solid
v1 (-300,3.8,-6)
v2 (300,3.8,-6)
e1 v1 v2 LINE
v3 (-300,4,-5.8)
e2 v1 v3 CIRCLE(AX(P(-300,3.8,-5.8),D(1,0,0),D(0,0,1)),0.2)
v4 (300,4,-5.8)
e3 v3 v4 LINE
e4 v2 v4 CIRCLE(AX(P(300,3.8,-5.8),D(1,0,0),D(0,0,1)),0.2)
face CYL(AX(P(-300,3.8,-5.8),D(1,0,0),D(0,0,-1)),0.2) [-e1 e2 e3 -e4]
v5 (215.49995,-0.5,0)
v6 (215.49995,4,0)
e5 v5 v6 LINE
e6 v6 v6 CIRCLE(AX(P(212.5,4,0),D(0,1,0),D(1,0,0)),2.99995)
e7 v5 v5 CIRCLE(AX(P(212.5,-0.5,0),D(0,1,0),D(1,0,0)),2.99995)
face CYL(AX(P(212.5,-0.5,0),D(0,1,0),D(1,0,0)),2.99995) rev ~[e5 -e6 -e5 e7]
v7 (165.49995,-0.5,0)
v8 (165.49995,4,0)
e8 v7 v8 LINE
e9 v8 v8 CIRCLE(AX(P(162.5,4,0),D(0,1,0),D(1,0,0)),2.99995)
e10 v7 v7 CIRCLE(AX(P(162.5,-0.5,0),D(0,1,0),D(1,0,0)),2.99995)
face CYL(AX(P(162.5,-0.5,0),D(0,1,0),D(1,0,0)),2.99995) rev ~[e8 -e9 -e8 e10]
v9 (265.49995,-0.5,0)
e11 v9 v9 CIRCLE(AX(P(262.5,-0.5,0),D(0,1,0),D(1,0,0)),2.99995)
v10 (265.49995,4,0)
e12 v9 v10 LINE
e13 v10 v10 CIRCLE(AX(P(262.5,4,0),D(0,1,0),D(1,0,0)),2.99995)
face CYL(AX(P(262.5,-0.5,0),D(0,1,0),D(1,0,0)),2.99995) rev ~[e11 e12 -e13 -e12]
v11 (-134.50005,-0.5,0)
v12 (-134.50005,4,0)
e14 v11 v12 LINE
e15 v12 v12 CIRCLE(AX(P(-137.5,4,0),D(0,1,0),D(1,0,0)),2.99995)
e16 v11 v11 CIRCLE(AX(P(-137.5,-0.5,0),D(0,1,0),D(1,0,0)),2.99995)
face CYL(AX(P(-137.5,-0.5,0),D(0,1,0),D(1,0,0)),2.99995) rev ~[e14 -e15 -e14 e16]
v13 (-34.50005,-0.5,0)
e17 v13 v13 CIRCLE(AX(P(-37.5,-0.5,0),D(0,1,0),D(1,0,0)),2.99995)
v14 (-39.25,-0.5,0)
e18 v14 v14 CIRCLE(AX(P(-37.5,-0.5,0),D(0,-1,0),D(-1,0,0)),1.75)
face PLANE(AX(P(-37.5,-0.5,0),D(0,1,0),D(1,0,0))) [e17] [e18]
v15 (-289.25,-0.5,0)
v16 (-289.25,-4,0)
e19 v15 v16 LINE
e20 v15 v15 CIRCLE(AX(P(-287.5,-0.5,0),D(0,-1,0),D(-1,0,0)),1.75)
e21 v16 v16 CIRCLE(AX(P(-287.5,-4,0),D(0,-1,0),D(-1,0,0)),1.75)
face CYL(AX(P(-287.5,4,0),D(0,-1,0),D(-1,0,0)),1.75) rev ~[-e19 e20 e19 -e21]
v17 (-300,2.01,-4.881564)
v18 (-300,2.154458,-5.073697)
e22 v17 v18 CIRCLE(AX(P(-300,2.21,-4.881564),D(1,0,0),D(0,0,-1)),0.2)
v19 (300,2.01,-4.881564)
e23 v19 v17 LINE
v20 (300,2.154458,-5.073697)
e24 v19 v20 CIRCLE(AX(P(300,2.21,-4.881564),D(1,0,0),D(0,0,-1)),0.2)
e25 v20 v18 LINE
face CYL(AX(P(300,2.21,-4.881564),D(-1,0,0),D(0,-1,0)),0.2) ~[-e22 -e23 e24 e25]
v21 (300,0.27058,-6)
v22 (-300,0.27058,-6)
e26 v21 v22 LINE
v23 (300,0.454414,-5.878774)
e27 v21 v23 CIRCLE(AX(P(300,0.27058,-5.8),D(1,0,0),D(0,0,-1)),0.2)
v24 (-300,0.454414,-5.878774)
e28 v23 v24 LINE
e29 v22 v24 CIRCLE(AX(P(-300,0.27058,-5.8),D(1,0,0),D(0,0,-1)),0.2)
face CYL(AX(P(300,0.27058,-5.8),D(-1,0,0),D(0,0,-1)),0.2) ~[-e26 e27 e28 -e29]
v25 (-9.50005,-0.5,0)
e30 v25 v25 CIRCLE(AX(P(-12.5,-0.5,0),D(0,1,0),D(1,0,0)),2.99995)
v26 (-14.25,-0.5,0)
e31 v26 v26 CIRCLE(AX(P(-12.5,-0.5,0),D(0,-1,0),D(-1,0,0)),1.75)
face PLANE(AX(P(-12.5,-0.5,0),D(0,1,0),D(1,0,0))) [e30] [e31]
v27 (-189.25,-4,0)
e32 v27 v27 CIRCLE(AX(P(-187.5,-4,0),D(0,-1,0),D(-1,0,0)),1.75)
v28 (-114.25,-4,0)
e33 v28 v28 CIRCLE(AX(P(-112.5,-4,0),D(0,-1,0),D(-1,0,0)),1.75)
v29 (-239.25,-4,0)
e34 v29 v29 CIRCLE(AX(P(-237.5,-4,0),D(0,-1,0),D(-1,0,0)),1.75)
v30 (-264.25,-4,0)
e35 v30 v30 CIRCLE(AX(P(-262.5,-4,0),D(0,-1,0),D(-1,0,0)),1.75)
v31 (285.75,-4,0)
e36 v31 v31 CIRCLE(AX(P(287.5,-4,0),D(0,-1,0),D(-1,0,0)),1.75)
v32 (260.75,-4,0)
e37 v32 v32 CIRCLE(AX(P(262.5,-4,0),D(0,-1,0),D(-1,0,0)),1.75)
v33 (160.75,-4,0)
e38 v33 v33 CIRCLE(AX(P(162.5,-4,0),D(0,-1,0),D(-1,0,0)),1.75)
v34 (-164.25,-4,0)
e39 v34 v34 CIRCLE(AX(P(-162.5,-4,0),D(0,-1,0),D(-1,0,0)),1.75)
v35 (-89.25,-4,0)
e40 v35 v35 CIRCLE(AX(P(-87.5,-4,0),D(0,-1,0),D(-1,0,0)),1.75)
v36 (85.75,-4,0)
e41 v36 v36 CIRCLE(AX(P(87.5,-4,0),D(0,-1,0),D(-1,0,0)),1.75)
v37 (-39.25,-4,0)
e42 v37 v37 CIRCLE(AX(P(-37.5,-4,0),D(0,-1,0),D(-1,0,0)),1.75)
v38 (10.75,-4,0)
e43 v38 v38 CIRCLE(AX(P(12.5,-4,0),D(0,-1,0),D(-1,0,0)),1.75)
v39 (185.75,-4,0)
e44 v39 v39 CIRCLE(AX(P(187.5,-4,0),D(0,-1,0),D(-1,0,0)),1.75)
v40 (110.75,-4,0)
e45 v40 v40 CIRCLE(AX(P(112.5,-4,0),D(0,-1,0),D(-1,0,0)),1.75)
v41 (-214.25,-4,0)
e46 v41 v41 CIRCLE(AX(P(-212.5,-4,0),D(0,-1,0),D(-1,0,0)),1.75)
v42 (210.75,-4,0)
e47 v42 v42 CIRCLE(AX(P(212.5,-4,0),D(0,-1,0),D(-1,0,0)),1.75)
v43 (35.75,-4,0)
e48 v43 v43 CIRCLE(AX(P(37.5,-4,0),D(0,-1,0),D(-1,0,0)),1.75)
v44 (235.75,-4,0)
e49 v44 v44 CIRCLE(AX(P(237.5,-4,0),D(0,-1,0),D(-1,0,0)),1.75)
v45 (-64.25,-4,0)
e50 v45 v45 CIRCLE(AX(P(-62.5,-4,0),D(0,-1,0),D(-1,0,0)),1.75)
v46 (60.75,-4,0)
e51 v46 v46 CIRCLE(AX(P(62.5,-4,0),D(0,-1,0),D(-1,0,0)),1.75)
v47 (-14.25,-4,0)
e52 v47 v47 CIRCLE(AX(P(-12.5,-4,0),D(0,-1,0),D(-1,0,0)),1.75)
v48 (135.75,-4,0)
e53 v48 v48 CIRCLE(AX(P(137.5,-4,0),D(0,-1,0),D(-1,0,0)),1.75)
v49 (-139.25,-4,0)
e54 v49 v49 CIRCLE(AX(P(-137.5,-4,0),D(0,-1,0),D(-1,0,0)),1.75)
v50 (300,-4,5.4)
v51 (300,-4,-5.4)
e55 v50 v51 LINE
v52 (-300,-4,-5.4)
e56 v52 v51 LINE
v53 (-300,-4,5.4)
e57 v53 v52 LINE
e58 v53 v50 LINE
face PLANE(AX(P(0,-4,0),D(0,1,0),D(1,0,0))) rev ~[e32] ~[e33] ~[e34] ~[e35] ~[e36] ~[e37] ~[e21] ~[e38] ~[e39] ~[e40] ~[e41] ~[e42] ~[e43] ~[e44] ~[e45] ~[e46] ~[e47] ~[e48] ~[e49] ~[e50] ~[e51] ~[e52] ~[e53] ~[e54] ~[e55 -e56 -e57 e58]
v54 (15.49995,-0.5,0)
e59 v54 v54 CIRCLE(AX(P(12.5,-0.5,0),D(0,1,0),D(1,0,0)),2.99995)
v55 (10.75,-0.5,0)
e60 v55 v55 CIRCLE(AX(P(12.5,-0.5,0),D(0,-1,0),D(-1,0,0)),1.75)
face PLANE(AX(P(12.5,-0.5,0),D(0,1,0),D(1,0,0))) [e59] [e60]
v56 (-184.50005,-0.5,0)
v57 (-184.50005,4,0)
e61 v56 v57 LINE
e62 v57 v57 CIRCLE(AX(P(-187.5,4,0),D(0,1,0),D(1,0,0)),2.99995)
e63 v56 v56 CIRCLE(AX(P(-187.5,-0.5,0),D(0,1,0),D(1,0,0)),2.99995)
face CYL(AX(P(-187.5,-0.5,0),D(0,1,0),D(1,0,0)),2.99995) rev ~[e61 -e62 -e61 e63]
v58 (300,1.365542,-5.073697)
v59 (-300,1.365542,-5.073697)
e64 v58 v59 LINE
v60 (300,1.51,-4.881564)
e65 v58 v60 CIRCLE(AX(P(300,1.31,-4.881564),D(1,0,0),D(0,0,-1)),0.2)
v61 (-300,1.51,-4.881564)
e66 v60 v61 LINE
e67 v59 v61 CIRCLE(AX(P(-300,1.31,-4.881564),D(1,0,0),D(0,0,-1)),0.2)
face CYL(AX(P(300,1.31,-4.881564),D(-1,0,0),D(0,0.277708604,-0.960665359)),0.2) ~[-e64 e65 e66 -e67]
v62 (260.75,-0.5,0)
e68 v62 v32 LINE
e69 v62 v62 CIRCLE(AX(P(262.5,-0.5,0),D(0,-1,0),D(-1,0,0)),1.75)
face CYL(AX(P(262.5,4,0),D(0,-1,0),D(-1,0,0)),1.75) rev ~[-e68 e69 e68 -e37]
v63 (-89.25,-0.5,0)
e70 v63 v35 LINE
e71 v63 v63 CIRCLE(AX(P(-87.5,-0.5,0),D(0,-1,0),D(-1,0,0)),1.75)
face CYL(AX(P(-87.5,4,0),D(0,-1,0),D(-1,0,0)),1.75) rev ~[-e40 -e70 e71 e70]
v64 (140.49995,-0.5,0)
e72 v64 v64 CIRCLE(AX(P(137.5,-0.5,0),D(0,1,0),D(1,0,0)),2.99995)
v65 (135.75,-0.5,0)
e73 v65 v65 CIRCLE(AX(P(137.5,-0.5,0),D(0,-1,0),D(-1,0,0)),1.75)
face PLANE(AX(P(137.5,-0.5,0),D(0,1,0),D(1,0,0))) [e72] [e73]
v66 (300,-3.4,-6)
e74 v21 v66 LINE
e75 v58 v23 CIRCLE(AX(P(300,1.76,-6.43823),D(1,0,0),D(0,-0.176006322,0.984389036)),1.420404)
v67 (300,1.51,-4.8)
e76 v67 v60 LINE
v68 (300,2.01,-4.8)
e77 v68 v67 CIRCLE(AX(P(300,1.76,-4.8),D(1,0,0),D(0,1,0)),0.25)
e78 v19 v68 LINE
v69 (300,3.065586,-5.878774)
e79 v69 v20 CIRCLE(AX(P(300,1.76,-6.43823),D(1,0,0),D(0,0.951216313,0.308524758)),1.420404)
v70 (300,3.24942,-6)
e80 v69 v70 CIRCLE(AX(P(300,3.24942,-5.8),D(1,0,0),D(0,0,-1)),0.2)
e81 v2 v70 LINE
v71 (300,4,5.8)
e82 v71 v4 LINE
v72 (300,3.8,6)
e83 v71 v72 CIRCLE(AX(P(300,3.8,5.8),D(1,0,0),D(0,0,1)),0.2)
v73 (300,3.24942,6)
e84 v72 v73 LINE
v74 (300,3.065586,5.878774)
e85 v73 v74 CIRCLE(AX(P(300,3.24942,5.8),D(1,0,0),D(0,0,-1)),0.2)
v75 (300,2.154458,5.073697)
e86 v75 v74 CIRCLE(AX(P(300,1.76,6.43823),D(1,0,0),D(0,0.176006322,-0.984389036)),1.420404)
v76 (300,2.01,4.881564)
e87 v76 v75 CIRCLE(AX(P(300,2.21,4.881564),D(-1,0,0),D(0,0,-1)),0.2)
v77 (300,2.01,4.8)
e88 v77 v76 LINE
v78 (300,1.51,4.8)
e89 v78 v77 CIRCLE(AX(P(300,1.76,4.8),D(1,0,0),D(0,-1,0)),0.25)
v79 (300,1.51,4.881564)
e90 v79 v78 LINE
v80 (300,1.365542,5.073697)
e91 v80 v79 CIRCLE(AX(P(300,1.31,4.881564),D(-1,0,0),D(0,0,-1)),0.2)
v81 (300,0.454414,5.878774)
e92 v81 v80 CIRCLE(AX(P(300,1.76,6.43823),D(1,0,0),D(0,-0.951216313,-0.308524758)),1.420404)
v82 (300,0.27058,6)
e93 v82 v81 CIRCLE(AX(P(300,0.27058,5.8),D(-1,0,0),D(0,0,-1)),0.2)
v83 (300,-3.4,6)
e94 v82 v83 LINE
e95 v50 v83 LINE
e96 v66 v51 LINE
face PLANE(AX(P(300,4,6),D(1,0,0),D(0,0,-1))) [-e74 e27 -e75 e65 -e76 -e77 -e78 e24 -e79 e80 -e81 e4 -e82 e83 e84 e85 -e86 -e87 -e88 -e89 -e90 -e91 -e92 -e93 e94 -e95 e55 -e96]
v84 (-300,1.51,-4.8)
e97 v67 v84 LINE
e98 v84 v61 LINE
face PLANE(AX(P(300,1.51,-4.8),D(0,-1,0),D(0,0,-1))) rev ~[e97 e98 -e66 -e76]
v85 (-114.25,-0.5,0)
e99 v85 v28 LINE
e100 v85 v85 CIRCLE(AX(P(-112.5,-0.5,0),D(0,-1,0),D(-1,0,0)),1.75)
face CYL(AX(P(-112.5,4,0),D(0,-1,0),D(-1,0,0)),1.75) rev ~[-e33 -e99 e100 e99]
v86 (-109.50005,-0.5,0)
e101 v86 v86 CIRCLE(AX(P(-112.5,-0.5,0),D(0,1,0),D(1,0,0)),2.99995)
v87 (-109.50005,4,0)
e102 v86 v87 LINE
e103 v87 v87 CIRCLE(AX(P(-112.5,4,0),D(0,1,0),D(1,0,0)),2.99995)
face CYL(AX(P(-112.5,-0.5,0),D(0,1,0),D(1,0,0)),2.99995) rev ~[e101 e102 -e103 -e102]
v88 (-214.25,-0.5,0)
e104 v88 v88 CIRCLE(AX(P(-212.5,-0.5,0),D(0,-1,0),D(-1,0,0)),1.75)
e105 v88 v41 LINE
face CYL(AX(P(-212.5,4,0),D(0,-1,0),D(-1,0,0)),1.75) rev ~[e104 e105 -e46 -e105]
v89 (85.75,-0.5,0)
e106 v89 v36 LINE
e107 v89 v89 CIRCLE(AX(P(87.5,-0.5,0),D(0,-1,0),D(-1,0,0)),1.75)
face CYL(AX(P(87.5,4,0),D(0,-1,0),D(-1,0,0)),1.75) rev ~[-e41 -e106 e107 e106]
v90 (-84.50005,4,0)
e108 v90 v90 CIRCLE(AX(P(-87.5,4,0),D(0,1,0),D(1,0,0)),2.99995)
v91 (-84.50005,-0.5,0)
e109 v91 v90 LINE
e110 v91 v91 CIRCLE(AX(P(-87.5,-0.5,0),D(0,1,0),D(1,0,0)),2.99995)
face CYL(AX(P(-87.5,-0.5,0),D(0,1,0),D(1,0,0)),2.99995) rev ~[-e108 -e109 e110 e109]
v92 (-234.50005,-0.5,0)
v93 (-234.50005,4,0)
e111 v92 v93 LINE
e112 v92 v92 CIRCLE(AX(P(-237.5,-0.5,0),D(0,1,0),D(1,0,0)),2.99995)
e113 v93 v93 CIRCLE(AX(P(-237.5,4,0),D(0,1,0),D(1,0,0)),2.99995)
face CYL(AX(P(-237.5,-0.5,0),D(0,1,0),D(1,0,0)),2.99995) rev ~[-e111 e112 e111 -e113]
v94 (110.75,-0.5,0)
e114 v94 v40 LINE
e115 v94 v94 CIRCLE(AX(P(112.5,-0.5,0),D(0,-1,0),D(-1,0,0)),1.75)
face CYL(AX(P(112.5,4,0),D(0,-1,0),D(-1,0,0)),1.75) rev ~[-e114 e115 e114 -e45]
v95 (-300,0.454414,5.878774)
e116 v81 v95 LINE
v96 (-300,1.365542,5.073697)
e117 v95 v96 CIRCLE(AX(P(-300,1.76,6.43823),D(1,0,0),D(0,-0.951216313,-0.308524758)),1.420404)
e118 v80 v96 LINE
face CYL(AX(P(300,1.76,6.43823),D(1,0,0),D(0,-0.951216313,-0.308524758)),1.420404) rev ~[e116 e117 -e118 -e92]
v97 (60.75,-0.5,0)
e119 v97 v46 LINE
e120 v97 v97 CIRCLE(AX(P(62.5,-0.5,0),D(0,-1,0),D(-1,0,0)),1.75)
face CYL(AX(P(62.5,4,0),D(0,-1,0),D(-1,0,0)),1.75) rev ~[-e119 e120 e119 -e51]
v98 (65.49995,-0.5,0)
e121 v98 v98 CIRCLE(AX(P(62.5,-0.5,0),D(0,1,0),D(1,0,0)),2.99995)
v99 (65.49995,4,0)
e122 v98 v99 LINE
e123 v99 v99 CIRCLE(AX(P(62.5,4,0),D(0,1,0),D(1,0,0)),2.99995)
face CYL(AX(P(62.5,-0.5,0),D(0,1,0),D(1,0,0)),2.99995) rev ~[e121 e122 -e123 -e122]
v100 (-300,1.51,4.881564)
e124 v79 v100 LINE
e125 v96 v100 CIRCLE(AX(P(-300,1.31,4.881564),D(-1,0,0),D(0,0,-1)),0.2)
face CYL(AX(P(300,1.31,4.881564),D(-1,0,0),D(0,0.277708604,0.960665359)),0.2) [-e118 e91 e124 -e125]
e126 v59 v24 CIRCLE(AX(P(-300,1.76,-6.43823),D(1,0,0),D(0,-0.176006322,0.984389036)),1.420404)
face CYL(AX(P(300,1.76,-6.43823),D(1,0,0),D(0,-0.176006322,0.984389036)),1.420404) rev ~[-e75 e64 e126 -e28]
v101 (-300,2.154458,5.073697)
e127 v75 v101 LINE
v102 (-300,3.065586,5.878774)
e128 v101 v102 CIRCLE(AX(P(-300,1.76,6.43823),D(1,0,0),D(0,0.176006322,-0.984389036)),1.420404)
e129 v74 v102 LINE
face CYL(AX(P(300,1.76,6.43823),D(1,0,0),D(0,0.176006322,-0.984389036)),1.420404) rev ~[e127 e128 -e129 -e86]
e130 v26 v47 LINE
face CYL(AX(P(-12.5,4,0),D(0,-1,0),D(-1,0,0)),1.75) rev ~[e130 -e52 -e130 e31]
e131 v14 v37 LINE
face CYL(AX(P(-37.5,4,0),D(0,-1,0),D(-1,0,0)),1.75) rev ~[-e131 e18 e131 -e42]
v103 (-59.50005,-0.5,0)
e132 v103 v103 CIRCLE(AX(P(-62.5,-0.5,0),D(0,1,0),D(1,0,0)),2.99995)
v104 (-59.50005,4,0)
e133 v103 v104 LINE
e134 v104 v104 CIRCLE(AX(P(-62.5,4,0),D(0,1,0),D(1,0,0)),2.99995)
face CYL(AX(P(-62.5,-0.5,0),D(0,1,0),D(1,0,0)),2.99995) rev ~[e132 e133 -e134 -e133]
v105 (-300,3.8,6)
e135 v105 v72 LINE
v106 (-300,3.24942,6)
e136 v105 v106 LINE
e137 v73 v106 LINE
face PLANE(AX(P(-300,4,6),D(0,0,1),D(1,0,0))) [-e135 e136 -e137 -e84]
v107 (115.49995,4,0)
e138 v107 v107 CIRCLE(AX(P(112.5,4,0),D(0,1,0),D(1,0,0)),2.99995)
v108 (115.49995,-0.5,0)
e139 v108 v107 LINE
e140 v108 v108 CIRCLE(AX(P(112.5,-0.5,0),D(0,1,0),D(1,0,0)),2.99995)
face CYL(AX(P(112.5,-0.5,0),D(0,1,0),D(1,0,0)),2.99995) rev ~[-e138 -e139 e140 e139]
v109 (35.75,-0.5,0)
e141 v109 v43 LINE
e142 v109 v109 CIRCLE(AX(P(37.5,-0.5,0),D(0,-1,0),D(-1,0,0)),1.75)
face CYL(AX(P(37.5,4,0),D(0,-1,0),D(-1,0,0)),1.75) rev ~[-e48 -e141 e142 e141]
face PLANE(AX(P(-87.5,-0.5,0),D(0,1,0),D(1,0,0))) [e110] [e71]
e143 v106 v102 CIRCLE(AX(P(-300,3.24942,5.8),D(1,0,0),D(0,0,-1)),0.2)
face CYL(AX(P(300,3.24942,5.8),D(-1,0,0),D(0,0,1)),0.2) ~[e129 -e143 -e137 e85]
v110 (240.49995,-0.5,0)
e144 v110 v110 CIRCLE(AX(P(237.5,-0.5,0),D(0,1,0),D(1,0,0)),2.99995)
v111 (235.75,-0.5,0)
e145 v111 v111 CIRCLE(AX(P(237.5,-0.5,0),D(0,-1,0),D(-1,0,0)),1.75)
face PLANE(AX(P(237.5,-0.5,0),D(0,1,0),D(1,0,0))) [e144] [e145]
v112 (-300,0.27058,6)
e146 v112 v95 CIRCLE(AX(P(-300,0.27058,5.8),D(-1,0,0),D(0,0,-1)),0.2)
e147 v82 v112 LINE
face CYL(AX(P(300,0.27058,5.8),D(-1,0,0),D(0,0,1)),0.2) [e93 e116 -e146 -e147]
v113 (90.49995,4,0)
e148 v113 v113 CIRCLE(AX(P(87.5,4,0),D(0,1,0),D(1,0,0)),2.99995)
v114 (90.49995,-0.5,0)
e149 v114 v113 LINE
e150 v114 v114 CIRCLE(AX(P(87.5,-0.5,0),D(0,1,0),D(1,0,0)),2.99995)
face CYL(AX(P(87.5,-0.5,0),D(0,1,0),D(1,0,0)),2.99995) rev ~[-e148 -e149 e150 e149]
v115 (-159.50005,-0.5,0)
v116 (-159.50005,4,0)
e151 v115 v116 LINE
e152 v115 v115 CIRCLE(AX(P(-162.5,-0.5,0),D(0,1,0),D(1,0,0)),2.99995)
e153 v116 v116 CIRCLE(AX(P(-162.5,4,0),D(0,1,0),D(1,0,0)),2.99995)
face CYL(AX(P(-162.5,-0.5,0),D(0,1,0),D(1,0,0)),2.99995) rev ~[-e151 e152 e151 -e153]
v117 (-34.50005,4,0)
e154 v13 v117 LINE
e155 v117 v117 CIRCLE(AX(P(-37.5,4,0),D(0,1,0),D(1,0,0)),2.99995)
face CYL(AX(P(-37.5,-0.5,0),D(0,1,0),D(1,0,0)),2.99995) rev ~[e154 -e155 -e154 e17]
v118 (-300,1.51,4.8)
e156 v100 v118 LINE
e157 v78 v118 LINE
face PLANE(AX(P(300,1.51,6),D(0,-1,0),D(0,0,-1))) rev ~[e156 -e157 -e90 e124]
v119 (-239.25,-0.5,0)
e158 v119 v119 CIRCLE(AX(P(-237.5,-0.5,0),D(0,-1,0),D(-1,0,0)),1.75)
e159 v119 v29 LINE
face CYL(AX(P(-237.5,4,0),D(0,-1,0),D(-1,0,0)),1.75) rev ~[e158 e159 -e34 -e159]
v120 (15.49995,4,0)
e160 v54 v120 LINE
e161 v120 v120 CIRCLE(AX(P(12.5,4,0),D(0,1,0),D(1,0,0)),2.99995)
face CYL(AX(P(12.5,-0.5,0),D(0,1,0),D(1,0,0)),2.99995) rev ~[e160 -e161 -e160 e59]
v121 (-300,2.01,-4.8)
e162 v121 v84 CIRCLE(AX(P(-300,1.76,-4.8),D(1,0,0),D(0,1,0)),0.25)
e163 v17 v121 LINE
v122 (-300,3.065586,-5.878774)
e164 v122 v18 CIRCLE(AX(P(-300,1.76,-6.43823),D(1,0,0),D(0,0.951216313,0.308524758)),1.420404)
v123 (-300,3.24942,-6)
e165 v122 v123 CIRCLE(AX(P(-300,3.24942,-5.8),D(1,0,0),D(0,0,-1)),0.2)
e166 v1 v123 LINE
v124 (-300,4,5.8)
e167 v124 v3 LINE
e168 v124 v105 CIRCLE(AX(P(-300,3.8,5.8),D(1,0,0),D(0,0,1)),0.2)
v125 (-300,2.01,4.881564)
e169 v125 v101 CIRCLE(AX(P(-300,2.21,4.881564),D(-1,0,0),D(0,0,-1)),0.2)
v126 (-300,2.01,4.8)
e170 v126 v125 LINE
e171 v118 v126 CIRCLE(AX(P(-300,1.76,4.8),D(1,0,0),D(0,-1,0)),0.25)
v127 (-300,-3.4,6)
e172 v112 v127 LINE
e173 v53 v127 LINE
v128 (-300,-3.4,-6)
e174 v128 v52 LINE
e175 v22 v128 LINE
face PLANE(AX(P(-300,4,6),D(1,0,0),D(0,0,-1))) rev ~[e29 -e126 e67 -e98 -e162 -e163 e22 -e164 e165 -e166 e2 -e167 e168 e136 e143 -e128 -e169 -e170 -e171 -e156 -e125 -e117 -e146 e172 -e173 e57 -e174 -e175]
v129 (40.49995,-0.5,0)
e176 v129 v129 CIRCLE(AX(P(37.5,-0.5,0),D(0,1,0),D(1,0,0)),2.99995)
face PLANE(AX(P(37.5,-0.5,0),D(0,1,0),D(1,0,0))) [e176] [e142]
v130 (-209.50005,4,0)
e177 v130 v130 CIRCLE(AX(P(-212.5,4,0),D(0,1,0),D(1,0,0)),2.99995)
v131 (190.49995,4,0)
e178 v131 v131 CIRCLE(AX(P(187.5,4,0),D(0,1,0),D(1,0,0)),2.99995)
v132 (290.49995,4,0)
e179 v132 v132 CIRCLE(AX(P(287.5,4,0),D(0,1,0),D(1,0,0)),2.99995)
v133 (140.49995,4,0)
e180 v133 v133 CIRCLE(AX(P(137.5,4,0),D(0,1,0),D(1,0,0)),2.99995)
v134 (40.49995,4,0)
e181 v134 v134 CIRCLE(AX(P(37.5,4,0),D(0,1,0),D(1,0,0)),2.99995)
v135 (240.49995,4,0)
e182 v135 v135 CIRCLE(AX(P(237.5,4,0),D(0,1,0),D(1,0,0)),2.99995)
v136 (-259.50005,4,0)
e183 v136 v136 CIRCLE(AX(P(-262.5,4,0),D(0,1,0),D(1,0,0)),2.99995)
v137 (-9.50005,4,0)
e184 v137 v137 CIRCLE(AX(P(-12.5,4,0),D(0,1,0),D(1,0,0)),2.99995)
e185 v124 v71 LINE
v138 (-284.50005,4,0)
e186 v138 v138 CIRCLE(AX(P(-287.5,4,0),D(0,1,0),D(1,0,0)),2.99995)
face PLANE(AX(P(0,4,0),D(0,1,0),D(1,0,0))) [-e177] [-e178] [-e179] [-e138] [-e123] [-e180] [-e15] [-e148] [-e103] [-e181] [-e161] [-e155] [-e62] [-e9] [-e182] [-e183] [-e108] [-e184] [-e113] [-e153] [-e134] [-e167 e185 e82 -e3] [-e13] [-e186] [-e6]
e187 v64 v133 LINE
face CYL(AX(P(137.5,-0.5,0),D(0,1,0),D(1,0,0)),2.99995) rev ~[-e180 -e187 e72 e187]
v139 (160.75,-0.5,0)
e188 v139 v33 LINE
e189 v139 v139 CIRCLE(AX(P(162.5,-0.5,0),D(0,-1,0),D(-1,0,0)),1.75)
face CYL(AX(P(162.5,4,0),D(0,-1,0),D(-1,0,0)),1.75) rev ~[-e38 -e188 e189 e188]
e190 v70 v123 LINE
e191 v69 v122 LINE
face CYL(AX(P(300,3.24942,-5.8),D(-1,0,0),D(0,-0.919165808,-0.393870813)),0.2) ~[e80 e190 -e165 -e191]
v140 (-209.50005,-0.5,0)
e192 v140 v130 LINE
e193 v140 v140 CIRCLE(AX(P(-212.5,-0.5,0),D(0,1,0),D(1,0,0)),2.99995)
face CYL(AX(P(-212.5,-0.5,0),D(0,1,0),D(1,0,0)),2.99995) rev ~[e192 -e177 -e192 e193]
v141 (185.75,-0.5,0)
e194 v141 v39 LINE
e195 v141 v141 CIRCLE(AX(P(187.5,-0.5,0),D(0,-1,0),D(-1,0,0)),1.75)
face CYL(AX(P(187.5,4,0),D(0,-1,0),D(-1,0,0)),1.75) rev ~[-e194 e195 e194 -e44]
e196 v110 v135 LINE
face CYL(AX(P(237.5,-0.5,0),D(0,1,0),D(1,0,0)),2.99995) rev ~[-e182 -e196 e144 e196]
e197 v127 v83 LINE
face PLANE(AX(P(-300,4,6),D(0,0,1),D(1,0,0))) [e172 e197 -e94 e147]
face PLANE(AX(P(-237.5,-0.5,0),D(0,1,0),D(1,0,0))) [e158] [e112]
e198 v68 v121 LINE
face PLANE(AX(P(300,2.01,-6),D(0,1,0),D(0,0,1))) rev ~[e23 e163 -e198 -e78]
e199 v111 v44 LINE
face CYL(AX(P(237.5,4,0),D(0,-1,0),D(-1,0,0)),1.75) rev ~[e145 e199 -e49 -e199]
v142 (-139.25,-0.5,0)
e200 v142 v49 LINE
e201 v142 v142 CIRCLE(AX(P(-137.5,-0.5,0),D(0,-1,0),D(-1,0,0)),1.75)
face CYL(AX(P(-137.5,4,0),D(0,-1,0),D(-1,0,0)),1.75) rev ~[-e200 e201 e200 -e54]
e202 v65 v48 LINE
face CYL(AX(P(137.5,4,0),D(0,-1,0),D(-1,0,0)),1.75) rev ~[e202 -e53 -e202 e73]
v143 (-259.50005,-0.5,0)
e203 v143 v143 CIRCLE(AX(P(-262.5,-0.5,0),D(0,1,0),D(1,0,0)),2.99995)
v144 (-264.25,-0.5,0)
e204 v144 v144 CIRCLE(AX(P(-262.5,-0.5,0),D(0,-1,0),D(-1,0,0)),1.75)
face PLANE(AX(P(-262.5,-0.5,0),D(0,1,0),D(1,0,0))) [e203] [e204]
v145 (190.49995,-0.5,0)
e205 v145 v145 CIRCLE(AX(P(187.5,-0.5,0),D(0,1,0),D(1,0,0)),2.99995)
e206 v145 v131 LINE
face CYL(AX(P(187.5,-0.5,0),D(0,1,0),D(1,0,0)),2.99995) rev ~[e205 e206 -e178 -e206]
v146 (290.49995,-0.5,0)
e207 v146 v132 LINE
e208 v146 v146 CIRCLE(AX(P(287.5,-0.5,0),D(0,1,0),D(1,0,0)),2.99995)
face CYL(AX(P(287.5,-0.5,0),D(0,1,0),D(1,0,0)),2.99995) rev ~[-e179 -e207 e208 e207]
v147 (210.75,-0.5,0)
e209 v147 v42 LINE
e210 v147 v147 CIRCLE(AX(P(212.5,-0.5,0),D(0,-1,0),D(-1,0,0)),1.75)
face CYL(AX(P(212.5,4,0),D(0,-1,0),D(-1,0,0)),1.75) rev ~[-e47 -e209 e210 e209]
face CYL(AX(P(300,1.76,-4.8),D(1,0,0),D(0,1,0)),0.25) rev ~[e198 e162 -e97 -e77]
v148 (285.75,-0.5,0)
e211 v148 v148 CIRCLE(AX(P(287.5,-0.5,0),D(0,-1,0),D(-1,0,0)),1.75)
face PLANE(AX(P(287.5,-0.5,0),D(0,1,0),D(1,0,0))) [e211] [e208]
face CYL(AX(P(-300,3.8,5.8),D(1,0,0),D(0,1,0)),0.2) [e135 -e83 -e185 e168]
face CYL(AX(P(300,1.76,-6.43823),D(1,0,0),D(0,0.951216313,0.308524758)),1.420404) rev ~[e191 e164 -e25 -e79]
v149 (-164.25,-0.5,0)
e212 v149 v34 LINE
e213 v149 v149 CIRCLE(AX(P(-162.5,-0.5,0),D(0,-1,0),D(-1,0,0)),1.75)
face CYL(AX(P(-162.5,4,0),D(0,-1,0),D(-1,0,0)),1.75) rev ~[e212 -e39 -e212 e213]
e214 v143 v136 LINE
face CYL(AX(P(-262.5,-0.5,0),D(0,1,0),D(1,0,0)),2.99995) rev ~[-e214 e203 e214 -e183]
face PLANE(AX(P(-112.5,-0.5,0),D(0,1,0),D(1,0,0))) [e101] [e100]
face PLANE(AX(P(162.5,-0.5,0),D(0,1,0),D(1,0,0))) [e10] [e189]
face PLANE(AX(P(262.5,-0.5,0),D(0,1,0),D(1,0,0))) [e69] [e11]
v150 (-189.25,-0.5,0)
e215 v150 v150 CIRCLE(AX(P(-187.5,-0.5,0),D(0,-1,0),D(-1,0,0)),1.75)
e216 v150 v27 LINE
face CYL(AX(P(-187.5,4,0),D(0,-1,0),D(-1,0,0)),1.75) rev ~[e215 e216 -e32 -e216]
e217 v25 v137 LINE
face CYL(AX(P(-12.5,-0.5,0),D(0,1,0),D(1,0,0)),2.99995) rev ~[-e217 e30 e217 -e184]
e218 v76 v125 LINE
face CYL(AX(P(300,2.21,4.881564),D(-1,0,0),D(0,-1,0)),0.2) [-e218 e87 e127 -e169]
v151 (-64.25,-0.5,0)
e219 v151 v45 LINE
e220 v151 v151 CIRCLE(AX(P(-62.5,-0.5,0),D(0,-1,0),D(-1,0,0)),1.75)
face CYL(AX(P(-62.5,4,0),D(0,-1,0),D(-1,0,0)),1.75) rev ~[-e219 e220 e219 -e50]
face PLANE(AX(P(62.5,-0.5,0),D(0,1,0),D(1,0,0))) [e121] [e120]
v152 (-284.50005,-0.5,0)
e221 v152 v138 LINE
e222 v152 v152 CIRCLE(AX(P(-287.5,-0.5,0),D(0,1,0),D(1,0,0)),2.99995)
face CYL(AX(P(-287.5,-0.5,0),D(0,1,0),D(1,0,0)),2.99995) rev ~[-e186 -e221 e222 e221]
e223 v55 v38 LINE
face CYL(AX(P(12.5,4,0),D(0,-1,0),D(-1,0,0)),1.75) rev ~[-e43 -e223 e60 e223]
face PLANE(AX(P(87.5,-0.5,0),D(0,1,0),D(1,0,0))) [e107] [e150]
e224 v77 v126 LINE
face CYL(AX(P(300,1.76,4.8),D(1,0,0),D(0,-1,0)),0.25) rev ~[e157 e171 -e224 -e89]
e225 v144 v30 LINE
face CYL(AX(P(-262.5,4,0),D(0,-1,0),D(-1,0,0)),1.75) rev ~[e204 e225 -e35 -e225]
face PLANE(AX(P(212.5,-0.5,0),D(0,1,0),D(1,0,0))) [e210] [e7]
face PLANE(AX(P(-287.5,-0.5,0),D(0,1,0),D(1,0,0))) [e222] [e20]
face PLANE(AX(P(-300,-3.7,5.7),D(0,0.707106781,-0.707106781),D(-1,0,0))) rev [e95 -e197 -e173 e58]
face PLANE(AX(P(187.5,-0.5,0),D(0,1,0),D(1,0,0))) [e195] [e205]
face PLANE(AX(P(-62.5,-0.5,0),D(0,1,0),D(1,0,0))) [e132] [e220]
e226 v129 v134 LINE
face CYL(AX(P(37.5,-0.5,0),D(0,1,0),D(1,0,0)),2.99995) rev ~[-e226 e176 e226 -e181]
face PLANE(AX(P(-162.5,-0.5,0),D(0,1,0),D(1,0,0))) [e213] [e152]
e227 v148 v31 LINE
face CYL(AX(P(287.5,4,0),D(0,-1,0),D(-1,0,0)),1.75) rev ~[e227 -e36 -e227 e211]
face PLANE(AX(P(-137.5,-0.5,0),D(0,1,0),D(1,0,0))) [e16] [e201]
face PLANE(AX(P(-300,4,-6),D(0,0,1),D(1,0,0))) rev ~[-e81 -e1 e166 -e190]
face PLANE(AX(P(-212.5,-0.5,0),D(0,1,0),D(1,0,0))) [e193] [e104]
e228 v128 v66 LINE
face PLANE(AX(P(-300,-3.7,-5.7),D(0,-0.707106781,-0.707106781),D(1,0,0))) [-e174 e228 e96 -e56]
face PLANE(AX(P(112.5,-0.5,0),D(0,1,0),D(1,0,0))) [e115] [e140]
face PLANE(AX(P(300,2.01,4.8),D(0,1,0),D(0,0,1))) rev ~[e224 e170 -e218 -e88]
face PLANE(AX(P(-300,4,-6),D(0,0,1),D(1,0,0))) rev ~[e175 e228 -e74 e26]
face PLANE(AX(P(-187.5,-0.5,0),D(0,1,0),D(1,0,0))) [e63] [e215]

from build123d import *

# Parameters (mm, degrees)
SKETCH_1_W                   = 600
SKETCH_1_H                   = 12
EXTRUDE_1_DEPTH              = 8
CUT_EXTRUDE_1_DEPTH          = 601.043331769
CUT_EXTRUDE_2_DEPTH          = 601.043331769
CUT_EXTRUDE_3_DEPTH          = 601.043331769
CUT_EXTRUDE_4_DEPTH          = 601.043331769
CUT_EXTRUDE_5_DEPTH          = 601.043331769
CUT_EXTRUDE_6_DEPTH          = 601.043331769
HOLE_WIZARD_M3_1_D           = 3.5
HOLE_WIZARD_M3_1_CBORE_D     = 5.9999
HOLE_WIZARD_M3_1_CBORE_DEPTH = 4.5
CHAMFER_1_SIZE               = 0.6
FILLET_1_R                   = 0.2


with BuildPart() as part:
    # 草图1 → 凸台-拉伸1 (new body)
    with BuildSketch(Plane(origin=(0, 4, 0), x_dir=(1, 0, 0), z_dir=(0, 1, 0))):
        Rectangle(SKETCH_1_W, SKETCH_1_H)
    extrude(amount=-EXTRUDE_1_DEPTH)

    # 草图2 → 切除-拉伸1 (cut, through all)
    with BuildSketch(Plane(origin=(300, 0, 0), x_dir=(0, 0, -1), z_dir=(1, 0, 0))):
        with BuildLine():
            Line((6, 1.51), (6, 2.01))
            Line((6, 2.01), (4.8, 2.01))
            ThreePointArc((4.8, 2.01), (4.55, 1.76), (4.8, 1.51))
            Line((4.8, 1.51), (6, 1.51))
        make_face()
    extrude(amount=-CUT_EXTRUDE_1_DEPTH, mode=Mode.SUBTRACT)

    # 草图3 → 切除-拉伸2 (cut, through all)
    with BuildSketch(Plane(origin=(300, 0, 0), x_dir=(0, 0, -1), z_dir=(1, 0, 0))):
        with BuildLine():
            Line((6, 2.01), (6, 3.111111))
            ThreePointArc((6, 3.111111), (5.367595703, 2.693428684), (5.04, 2.01))
            Line((5.04, 2.01), (6, 2.01))
        make_face()
    extrude(amount=-CUT_EXTRUDE_2_DEPTH, mode=Mode.SUBTRACT)

    # 草图4 → 切除-拉伸3 (cut, through all)
    with BuildSketch(Plane(origin=(300, 0, 0), x_dir=(0, 0, -1), z_dir=(1, 0, 0))):
        with BuildLine():
            Line((6, 1.51), (5.04, 1.51))
            ThreePointArc((5.04, 1.51), (5.367595703, 0.826571316), (6, 0.408889))
            Line((6, 0.408889), (6, 1.51))
        make_face()
    extrude(amount=-CUT_EXTRUDE_3_DEPTH, mode=Mode.SUBTRACT)

    # 草图5 → 切除-拉伸4 (cut, through all)
    with BuildSketch(Plane(origin=(300, 0, 0), x_dir=(0, 0, -1), z_dir=(1, 0, 0))):
        with BuildLine():
            Line((-6, 2.01), (-6, 1.51))
            Line((-6, 1.51), (-4.8, 1.51))
            ThreePointArc((-4.8, 1.51), (-4.55, 1.76), (-4.8, 2.01))
            Line((-4.8, 2.01), (-6, 2.01))
        make_face()
    extrude(amount=-CUT_EXTRUDE_4_DEPTH, mode=Mode.SUBTRACT)

    # 草图6 → 切除-拉伸5 (cut, through all)
    with BuildSketch(Plane(origin=(300, 0, 0), x_dir=(0, 0, -1), z_dir=(1, 0, 0))):
        with BuildLine():
            Line((-6, 1.51), (-6, 0.408889))
            ThreePointArc((-6, 0.408889), (-5.367595703, 0.826571316), (-5.04, 1.51))
            Line((-5.04, 1.51), (-6, 1.51))
        make_face()
    extrude(amount=-CUT_EXTRUDE_5_DEPTH, mode=Mode.SUBTRACT)

    # 草图7 → 切除-拉伸6 (cut, through all)
    with BuildSketch(Plane(origin=(300, 0, 0), x_dir=(0, 0, -1), z_dir=(1, 0, 0))):
        with BuildLine():
            Line((-6, 2.01), (-5.04, 2.01))
            ThreePointArc((-5.04, 2.01), (-5.367595703, 2.693428684), (-6, 3.111111))
            Line((-6, 3.111111), (-6, 2.01))
        make_face()
    extrude(amount=-CUT_EXTRUDE_6_DEPTH, mode=Mode.SUBTRACT)

    # M3 六角头机械螺钉的柱形沉头孔1 (through all)
    with Locations(Plane(origin=(0, 4, 0), x_dir=(1, 0, 0), z_dir=(0, 1, 0))):
        with Locations((-287.5, 0), (-262.5, 0), (-237.5, 0), (-212.5, 0), (-187.5, 0), (-162.5, 0), (-137.5, 0), (-112.5, 0), (-87.5, 0), (-62.5, 0), (-37.5, 0), (-12.5, 0), (12.5, 0), (37.5, 0), (62.5, 0), (87.5, 0), (112.5, 0), (137.5, 0), (162.5, 0), (187.5, 0), (212.5, 0), (237.5, 0), (262.5, 0), (287.5, 0)):
            CounterBoreHole(HOLE_WIZARD_M3_1_D / 2, HOLE_WIZARD_M3_1_CBORE_D / 2, HOLE_WIZARD_M3_1_CBORE_DEPTH)

    # 倒角1
    chamfer_1_edges = [part.edges().sort_by_distance(p)[0] for p in [
        (0, -4, -6),
        (0, -4, 6),
    ]]
    chamfer(chamfer_1_edges, length=CHAMFER_1_SIZE)

    # 圆角1
    fillet_1_edges = [part.edges().sort_by_distance(p)[0] for p in [
        (0, 2.01, -5.04),
        (0, 3.111111, -6),
        (0, 0.408889, -6),
        (0, 1.51, -5.04),
        (0, 4, -6),
        (0, 4, 6),
        (0, 1.51, 5.04),
        (0, 0.408889, 6),
        (0, 3.111111, 6),
        (0, 2.01, 5.04),
    ]]
    fillet(fillet_1_edges, radius=FILLET_1_R)


solid = part.part
